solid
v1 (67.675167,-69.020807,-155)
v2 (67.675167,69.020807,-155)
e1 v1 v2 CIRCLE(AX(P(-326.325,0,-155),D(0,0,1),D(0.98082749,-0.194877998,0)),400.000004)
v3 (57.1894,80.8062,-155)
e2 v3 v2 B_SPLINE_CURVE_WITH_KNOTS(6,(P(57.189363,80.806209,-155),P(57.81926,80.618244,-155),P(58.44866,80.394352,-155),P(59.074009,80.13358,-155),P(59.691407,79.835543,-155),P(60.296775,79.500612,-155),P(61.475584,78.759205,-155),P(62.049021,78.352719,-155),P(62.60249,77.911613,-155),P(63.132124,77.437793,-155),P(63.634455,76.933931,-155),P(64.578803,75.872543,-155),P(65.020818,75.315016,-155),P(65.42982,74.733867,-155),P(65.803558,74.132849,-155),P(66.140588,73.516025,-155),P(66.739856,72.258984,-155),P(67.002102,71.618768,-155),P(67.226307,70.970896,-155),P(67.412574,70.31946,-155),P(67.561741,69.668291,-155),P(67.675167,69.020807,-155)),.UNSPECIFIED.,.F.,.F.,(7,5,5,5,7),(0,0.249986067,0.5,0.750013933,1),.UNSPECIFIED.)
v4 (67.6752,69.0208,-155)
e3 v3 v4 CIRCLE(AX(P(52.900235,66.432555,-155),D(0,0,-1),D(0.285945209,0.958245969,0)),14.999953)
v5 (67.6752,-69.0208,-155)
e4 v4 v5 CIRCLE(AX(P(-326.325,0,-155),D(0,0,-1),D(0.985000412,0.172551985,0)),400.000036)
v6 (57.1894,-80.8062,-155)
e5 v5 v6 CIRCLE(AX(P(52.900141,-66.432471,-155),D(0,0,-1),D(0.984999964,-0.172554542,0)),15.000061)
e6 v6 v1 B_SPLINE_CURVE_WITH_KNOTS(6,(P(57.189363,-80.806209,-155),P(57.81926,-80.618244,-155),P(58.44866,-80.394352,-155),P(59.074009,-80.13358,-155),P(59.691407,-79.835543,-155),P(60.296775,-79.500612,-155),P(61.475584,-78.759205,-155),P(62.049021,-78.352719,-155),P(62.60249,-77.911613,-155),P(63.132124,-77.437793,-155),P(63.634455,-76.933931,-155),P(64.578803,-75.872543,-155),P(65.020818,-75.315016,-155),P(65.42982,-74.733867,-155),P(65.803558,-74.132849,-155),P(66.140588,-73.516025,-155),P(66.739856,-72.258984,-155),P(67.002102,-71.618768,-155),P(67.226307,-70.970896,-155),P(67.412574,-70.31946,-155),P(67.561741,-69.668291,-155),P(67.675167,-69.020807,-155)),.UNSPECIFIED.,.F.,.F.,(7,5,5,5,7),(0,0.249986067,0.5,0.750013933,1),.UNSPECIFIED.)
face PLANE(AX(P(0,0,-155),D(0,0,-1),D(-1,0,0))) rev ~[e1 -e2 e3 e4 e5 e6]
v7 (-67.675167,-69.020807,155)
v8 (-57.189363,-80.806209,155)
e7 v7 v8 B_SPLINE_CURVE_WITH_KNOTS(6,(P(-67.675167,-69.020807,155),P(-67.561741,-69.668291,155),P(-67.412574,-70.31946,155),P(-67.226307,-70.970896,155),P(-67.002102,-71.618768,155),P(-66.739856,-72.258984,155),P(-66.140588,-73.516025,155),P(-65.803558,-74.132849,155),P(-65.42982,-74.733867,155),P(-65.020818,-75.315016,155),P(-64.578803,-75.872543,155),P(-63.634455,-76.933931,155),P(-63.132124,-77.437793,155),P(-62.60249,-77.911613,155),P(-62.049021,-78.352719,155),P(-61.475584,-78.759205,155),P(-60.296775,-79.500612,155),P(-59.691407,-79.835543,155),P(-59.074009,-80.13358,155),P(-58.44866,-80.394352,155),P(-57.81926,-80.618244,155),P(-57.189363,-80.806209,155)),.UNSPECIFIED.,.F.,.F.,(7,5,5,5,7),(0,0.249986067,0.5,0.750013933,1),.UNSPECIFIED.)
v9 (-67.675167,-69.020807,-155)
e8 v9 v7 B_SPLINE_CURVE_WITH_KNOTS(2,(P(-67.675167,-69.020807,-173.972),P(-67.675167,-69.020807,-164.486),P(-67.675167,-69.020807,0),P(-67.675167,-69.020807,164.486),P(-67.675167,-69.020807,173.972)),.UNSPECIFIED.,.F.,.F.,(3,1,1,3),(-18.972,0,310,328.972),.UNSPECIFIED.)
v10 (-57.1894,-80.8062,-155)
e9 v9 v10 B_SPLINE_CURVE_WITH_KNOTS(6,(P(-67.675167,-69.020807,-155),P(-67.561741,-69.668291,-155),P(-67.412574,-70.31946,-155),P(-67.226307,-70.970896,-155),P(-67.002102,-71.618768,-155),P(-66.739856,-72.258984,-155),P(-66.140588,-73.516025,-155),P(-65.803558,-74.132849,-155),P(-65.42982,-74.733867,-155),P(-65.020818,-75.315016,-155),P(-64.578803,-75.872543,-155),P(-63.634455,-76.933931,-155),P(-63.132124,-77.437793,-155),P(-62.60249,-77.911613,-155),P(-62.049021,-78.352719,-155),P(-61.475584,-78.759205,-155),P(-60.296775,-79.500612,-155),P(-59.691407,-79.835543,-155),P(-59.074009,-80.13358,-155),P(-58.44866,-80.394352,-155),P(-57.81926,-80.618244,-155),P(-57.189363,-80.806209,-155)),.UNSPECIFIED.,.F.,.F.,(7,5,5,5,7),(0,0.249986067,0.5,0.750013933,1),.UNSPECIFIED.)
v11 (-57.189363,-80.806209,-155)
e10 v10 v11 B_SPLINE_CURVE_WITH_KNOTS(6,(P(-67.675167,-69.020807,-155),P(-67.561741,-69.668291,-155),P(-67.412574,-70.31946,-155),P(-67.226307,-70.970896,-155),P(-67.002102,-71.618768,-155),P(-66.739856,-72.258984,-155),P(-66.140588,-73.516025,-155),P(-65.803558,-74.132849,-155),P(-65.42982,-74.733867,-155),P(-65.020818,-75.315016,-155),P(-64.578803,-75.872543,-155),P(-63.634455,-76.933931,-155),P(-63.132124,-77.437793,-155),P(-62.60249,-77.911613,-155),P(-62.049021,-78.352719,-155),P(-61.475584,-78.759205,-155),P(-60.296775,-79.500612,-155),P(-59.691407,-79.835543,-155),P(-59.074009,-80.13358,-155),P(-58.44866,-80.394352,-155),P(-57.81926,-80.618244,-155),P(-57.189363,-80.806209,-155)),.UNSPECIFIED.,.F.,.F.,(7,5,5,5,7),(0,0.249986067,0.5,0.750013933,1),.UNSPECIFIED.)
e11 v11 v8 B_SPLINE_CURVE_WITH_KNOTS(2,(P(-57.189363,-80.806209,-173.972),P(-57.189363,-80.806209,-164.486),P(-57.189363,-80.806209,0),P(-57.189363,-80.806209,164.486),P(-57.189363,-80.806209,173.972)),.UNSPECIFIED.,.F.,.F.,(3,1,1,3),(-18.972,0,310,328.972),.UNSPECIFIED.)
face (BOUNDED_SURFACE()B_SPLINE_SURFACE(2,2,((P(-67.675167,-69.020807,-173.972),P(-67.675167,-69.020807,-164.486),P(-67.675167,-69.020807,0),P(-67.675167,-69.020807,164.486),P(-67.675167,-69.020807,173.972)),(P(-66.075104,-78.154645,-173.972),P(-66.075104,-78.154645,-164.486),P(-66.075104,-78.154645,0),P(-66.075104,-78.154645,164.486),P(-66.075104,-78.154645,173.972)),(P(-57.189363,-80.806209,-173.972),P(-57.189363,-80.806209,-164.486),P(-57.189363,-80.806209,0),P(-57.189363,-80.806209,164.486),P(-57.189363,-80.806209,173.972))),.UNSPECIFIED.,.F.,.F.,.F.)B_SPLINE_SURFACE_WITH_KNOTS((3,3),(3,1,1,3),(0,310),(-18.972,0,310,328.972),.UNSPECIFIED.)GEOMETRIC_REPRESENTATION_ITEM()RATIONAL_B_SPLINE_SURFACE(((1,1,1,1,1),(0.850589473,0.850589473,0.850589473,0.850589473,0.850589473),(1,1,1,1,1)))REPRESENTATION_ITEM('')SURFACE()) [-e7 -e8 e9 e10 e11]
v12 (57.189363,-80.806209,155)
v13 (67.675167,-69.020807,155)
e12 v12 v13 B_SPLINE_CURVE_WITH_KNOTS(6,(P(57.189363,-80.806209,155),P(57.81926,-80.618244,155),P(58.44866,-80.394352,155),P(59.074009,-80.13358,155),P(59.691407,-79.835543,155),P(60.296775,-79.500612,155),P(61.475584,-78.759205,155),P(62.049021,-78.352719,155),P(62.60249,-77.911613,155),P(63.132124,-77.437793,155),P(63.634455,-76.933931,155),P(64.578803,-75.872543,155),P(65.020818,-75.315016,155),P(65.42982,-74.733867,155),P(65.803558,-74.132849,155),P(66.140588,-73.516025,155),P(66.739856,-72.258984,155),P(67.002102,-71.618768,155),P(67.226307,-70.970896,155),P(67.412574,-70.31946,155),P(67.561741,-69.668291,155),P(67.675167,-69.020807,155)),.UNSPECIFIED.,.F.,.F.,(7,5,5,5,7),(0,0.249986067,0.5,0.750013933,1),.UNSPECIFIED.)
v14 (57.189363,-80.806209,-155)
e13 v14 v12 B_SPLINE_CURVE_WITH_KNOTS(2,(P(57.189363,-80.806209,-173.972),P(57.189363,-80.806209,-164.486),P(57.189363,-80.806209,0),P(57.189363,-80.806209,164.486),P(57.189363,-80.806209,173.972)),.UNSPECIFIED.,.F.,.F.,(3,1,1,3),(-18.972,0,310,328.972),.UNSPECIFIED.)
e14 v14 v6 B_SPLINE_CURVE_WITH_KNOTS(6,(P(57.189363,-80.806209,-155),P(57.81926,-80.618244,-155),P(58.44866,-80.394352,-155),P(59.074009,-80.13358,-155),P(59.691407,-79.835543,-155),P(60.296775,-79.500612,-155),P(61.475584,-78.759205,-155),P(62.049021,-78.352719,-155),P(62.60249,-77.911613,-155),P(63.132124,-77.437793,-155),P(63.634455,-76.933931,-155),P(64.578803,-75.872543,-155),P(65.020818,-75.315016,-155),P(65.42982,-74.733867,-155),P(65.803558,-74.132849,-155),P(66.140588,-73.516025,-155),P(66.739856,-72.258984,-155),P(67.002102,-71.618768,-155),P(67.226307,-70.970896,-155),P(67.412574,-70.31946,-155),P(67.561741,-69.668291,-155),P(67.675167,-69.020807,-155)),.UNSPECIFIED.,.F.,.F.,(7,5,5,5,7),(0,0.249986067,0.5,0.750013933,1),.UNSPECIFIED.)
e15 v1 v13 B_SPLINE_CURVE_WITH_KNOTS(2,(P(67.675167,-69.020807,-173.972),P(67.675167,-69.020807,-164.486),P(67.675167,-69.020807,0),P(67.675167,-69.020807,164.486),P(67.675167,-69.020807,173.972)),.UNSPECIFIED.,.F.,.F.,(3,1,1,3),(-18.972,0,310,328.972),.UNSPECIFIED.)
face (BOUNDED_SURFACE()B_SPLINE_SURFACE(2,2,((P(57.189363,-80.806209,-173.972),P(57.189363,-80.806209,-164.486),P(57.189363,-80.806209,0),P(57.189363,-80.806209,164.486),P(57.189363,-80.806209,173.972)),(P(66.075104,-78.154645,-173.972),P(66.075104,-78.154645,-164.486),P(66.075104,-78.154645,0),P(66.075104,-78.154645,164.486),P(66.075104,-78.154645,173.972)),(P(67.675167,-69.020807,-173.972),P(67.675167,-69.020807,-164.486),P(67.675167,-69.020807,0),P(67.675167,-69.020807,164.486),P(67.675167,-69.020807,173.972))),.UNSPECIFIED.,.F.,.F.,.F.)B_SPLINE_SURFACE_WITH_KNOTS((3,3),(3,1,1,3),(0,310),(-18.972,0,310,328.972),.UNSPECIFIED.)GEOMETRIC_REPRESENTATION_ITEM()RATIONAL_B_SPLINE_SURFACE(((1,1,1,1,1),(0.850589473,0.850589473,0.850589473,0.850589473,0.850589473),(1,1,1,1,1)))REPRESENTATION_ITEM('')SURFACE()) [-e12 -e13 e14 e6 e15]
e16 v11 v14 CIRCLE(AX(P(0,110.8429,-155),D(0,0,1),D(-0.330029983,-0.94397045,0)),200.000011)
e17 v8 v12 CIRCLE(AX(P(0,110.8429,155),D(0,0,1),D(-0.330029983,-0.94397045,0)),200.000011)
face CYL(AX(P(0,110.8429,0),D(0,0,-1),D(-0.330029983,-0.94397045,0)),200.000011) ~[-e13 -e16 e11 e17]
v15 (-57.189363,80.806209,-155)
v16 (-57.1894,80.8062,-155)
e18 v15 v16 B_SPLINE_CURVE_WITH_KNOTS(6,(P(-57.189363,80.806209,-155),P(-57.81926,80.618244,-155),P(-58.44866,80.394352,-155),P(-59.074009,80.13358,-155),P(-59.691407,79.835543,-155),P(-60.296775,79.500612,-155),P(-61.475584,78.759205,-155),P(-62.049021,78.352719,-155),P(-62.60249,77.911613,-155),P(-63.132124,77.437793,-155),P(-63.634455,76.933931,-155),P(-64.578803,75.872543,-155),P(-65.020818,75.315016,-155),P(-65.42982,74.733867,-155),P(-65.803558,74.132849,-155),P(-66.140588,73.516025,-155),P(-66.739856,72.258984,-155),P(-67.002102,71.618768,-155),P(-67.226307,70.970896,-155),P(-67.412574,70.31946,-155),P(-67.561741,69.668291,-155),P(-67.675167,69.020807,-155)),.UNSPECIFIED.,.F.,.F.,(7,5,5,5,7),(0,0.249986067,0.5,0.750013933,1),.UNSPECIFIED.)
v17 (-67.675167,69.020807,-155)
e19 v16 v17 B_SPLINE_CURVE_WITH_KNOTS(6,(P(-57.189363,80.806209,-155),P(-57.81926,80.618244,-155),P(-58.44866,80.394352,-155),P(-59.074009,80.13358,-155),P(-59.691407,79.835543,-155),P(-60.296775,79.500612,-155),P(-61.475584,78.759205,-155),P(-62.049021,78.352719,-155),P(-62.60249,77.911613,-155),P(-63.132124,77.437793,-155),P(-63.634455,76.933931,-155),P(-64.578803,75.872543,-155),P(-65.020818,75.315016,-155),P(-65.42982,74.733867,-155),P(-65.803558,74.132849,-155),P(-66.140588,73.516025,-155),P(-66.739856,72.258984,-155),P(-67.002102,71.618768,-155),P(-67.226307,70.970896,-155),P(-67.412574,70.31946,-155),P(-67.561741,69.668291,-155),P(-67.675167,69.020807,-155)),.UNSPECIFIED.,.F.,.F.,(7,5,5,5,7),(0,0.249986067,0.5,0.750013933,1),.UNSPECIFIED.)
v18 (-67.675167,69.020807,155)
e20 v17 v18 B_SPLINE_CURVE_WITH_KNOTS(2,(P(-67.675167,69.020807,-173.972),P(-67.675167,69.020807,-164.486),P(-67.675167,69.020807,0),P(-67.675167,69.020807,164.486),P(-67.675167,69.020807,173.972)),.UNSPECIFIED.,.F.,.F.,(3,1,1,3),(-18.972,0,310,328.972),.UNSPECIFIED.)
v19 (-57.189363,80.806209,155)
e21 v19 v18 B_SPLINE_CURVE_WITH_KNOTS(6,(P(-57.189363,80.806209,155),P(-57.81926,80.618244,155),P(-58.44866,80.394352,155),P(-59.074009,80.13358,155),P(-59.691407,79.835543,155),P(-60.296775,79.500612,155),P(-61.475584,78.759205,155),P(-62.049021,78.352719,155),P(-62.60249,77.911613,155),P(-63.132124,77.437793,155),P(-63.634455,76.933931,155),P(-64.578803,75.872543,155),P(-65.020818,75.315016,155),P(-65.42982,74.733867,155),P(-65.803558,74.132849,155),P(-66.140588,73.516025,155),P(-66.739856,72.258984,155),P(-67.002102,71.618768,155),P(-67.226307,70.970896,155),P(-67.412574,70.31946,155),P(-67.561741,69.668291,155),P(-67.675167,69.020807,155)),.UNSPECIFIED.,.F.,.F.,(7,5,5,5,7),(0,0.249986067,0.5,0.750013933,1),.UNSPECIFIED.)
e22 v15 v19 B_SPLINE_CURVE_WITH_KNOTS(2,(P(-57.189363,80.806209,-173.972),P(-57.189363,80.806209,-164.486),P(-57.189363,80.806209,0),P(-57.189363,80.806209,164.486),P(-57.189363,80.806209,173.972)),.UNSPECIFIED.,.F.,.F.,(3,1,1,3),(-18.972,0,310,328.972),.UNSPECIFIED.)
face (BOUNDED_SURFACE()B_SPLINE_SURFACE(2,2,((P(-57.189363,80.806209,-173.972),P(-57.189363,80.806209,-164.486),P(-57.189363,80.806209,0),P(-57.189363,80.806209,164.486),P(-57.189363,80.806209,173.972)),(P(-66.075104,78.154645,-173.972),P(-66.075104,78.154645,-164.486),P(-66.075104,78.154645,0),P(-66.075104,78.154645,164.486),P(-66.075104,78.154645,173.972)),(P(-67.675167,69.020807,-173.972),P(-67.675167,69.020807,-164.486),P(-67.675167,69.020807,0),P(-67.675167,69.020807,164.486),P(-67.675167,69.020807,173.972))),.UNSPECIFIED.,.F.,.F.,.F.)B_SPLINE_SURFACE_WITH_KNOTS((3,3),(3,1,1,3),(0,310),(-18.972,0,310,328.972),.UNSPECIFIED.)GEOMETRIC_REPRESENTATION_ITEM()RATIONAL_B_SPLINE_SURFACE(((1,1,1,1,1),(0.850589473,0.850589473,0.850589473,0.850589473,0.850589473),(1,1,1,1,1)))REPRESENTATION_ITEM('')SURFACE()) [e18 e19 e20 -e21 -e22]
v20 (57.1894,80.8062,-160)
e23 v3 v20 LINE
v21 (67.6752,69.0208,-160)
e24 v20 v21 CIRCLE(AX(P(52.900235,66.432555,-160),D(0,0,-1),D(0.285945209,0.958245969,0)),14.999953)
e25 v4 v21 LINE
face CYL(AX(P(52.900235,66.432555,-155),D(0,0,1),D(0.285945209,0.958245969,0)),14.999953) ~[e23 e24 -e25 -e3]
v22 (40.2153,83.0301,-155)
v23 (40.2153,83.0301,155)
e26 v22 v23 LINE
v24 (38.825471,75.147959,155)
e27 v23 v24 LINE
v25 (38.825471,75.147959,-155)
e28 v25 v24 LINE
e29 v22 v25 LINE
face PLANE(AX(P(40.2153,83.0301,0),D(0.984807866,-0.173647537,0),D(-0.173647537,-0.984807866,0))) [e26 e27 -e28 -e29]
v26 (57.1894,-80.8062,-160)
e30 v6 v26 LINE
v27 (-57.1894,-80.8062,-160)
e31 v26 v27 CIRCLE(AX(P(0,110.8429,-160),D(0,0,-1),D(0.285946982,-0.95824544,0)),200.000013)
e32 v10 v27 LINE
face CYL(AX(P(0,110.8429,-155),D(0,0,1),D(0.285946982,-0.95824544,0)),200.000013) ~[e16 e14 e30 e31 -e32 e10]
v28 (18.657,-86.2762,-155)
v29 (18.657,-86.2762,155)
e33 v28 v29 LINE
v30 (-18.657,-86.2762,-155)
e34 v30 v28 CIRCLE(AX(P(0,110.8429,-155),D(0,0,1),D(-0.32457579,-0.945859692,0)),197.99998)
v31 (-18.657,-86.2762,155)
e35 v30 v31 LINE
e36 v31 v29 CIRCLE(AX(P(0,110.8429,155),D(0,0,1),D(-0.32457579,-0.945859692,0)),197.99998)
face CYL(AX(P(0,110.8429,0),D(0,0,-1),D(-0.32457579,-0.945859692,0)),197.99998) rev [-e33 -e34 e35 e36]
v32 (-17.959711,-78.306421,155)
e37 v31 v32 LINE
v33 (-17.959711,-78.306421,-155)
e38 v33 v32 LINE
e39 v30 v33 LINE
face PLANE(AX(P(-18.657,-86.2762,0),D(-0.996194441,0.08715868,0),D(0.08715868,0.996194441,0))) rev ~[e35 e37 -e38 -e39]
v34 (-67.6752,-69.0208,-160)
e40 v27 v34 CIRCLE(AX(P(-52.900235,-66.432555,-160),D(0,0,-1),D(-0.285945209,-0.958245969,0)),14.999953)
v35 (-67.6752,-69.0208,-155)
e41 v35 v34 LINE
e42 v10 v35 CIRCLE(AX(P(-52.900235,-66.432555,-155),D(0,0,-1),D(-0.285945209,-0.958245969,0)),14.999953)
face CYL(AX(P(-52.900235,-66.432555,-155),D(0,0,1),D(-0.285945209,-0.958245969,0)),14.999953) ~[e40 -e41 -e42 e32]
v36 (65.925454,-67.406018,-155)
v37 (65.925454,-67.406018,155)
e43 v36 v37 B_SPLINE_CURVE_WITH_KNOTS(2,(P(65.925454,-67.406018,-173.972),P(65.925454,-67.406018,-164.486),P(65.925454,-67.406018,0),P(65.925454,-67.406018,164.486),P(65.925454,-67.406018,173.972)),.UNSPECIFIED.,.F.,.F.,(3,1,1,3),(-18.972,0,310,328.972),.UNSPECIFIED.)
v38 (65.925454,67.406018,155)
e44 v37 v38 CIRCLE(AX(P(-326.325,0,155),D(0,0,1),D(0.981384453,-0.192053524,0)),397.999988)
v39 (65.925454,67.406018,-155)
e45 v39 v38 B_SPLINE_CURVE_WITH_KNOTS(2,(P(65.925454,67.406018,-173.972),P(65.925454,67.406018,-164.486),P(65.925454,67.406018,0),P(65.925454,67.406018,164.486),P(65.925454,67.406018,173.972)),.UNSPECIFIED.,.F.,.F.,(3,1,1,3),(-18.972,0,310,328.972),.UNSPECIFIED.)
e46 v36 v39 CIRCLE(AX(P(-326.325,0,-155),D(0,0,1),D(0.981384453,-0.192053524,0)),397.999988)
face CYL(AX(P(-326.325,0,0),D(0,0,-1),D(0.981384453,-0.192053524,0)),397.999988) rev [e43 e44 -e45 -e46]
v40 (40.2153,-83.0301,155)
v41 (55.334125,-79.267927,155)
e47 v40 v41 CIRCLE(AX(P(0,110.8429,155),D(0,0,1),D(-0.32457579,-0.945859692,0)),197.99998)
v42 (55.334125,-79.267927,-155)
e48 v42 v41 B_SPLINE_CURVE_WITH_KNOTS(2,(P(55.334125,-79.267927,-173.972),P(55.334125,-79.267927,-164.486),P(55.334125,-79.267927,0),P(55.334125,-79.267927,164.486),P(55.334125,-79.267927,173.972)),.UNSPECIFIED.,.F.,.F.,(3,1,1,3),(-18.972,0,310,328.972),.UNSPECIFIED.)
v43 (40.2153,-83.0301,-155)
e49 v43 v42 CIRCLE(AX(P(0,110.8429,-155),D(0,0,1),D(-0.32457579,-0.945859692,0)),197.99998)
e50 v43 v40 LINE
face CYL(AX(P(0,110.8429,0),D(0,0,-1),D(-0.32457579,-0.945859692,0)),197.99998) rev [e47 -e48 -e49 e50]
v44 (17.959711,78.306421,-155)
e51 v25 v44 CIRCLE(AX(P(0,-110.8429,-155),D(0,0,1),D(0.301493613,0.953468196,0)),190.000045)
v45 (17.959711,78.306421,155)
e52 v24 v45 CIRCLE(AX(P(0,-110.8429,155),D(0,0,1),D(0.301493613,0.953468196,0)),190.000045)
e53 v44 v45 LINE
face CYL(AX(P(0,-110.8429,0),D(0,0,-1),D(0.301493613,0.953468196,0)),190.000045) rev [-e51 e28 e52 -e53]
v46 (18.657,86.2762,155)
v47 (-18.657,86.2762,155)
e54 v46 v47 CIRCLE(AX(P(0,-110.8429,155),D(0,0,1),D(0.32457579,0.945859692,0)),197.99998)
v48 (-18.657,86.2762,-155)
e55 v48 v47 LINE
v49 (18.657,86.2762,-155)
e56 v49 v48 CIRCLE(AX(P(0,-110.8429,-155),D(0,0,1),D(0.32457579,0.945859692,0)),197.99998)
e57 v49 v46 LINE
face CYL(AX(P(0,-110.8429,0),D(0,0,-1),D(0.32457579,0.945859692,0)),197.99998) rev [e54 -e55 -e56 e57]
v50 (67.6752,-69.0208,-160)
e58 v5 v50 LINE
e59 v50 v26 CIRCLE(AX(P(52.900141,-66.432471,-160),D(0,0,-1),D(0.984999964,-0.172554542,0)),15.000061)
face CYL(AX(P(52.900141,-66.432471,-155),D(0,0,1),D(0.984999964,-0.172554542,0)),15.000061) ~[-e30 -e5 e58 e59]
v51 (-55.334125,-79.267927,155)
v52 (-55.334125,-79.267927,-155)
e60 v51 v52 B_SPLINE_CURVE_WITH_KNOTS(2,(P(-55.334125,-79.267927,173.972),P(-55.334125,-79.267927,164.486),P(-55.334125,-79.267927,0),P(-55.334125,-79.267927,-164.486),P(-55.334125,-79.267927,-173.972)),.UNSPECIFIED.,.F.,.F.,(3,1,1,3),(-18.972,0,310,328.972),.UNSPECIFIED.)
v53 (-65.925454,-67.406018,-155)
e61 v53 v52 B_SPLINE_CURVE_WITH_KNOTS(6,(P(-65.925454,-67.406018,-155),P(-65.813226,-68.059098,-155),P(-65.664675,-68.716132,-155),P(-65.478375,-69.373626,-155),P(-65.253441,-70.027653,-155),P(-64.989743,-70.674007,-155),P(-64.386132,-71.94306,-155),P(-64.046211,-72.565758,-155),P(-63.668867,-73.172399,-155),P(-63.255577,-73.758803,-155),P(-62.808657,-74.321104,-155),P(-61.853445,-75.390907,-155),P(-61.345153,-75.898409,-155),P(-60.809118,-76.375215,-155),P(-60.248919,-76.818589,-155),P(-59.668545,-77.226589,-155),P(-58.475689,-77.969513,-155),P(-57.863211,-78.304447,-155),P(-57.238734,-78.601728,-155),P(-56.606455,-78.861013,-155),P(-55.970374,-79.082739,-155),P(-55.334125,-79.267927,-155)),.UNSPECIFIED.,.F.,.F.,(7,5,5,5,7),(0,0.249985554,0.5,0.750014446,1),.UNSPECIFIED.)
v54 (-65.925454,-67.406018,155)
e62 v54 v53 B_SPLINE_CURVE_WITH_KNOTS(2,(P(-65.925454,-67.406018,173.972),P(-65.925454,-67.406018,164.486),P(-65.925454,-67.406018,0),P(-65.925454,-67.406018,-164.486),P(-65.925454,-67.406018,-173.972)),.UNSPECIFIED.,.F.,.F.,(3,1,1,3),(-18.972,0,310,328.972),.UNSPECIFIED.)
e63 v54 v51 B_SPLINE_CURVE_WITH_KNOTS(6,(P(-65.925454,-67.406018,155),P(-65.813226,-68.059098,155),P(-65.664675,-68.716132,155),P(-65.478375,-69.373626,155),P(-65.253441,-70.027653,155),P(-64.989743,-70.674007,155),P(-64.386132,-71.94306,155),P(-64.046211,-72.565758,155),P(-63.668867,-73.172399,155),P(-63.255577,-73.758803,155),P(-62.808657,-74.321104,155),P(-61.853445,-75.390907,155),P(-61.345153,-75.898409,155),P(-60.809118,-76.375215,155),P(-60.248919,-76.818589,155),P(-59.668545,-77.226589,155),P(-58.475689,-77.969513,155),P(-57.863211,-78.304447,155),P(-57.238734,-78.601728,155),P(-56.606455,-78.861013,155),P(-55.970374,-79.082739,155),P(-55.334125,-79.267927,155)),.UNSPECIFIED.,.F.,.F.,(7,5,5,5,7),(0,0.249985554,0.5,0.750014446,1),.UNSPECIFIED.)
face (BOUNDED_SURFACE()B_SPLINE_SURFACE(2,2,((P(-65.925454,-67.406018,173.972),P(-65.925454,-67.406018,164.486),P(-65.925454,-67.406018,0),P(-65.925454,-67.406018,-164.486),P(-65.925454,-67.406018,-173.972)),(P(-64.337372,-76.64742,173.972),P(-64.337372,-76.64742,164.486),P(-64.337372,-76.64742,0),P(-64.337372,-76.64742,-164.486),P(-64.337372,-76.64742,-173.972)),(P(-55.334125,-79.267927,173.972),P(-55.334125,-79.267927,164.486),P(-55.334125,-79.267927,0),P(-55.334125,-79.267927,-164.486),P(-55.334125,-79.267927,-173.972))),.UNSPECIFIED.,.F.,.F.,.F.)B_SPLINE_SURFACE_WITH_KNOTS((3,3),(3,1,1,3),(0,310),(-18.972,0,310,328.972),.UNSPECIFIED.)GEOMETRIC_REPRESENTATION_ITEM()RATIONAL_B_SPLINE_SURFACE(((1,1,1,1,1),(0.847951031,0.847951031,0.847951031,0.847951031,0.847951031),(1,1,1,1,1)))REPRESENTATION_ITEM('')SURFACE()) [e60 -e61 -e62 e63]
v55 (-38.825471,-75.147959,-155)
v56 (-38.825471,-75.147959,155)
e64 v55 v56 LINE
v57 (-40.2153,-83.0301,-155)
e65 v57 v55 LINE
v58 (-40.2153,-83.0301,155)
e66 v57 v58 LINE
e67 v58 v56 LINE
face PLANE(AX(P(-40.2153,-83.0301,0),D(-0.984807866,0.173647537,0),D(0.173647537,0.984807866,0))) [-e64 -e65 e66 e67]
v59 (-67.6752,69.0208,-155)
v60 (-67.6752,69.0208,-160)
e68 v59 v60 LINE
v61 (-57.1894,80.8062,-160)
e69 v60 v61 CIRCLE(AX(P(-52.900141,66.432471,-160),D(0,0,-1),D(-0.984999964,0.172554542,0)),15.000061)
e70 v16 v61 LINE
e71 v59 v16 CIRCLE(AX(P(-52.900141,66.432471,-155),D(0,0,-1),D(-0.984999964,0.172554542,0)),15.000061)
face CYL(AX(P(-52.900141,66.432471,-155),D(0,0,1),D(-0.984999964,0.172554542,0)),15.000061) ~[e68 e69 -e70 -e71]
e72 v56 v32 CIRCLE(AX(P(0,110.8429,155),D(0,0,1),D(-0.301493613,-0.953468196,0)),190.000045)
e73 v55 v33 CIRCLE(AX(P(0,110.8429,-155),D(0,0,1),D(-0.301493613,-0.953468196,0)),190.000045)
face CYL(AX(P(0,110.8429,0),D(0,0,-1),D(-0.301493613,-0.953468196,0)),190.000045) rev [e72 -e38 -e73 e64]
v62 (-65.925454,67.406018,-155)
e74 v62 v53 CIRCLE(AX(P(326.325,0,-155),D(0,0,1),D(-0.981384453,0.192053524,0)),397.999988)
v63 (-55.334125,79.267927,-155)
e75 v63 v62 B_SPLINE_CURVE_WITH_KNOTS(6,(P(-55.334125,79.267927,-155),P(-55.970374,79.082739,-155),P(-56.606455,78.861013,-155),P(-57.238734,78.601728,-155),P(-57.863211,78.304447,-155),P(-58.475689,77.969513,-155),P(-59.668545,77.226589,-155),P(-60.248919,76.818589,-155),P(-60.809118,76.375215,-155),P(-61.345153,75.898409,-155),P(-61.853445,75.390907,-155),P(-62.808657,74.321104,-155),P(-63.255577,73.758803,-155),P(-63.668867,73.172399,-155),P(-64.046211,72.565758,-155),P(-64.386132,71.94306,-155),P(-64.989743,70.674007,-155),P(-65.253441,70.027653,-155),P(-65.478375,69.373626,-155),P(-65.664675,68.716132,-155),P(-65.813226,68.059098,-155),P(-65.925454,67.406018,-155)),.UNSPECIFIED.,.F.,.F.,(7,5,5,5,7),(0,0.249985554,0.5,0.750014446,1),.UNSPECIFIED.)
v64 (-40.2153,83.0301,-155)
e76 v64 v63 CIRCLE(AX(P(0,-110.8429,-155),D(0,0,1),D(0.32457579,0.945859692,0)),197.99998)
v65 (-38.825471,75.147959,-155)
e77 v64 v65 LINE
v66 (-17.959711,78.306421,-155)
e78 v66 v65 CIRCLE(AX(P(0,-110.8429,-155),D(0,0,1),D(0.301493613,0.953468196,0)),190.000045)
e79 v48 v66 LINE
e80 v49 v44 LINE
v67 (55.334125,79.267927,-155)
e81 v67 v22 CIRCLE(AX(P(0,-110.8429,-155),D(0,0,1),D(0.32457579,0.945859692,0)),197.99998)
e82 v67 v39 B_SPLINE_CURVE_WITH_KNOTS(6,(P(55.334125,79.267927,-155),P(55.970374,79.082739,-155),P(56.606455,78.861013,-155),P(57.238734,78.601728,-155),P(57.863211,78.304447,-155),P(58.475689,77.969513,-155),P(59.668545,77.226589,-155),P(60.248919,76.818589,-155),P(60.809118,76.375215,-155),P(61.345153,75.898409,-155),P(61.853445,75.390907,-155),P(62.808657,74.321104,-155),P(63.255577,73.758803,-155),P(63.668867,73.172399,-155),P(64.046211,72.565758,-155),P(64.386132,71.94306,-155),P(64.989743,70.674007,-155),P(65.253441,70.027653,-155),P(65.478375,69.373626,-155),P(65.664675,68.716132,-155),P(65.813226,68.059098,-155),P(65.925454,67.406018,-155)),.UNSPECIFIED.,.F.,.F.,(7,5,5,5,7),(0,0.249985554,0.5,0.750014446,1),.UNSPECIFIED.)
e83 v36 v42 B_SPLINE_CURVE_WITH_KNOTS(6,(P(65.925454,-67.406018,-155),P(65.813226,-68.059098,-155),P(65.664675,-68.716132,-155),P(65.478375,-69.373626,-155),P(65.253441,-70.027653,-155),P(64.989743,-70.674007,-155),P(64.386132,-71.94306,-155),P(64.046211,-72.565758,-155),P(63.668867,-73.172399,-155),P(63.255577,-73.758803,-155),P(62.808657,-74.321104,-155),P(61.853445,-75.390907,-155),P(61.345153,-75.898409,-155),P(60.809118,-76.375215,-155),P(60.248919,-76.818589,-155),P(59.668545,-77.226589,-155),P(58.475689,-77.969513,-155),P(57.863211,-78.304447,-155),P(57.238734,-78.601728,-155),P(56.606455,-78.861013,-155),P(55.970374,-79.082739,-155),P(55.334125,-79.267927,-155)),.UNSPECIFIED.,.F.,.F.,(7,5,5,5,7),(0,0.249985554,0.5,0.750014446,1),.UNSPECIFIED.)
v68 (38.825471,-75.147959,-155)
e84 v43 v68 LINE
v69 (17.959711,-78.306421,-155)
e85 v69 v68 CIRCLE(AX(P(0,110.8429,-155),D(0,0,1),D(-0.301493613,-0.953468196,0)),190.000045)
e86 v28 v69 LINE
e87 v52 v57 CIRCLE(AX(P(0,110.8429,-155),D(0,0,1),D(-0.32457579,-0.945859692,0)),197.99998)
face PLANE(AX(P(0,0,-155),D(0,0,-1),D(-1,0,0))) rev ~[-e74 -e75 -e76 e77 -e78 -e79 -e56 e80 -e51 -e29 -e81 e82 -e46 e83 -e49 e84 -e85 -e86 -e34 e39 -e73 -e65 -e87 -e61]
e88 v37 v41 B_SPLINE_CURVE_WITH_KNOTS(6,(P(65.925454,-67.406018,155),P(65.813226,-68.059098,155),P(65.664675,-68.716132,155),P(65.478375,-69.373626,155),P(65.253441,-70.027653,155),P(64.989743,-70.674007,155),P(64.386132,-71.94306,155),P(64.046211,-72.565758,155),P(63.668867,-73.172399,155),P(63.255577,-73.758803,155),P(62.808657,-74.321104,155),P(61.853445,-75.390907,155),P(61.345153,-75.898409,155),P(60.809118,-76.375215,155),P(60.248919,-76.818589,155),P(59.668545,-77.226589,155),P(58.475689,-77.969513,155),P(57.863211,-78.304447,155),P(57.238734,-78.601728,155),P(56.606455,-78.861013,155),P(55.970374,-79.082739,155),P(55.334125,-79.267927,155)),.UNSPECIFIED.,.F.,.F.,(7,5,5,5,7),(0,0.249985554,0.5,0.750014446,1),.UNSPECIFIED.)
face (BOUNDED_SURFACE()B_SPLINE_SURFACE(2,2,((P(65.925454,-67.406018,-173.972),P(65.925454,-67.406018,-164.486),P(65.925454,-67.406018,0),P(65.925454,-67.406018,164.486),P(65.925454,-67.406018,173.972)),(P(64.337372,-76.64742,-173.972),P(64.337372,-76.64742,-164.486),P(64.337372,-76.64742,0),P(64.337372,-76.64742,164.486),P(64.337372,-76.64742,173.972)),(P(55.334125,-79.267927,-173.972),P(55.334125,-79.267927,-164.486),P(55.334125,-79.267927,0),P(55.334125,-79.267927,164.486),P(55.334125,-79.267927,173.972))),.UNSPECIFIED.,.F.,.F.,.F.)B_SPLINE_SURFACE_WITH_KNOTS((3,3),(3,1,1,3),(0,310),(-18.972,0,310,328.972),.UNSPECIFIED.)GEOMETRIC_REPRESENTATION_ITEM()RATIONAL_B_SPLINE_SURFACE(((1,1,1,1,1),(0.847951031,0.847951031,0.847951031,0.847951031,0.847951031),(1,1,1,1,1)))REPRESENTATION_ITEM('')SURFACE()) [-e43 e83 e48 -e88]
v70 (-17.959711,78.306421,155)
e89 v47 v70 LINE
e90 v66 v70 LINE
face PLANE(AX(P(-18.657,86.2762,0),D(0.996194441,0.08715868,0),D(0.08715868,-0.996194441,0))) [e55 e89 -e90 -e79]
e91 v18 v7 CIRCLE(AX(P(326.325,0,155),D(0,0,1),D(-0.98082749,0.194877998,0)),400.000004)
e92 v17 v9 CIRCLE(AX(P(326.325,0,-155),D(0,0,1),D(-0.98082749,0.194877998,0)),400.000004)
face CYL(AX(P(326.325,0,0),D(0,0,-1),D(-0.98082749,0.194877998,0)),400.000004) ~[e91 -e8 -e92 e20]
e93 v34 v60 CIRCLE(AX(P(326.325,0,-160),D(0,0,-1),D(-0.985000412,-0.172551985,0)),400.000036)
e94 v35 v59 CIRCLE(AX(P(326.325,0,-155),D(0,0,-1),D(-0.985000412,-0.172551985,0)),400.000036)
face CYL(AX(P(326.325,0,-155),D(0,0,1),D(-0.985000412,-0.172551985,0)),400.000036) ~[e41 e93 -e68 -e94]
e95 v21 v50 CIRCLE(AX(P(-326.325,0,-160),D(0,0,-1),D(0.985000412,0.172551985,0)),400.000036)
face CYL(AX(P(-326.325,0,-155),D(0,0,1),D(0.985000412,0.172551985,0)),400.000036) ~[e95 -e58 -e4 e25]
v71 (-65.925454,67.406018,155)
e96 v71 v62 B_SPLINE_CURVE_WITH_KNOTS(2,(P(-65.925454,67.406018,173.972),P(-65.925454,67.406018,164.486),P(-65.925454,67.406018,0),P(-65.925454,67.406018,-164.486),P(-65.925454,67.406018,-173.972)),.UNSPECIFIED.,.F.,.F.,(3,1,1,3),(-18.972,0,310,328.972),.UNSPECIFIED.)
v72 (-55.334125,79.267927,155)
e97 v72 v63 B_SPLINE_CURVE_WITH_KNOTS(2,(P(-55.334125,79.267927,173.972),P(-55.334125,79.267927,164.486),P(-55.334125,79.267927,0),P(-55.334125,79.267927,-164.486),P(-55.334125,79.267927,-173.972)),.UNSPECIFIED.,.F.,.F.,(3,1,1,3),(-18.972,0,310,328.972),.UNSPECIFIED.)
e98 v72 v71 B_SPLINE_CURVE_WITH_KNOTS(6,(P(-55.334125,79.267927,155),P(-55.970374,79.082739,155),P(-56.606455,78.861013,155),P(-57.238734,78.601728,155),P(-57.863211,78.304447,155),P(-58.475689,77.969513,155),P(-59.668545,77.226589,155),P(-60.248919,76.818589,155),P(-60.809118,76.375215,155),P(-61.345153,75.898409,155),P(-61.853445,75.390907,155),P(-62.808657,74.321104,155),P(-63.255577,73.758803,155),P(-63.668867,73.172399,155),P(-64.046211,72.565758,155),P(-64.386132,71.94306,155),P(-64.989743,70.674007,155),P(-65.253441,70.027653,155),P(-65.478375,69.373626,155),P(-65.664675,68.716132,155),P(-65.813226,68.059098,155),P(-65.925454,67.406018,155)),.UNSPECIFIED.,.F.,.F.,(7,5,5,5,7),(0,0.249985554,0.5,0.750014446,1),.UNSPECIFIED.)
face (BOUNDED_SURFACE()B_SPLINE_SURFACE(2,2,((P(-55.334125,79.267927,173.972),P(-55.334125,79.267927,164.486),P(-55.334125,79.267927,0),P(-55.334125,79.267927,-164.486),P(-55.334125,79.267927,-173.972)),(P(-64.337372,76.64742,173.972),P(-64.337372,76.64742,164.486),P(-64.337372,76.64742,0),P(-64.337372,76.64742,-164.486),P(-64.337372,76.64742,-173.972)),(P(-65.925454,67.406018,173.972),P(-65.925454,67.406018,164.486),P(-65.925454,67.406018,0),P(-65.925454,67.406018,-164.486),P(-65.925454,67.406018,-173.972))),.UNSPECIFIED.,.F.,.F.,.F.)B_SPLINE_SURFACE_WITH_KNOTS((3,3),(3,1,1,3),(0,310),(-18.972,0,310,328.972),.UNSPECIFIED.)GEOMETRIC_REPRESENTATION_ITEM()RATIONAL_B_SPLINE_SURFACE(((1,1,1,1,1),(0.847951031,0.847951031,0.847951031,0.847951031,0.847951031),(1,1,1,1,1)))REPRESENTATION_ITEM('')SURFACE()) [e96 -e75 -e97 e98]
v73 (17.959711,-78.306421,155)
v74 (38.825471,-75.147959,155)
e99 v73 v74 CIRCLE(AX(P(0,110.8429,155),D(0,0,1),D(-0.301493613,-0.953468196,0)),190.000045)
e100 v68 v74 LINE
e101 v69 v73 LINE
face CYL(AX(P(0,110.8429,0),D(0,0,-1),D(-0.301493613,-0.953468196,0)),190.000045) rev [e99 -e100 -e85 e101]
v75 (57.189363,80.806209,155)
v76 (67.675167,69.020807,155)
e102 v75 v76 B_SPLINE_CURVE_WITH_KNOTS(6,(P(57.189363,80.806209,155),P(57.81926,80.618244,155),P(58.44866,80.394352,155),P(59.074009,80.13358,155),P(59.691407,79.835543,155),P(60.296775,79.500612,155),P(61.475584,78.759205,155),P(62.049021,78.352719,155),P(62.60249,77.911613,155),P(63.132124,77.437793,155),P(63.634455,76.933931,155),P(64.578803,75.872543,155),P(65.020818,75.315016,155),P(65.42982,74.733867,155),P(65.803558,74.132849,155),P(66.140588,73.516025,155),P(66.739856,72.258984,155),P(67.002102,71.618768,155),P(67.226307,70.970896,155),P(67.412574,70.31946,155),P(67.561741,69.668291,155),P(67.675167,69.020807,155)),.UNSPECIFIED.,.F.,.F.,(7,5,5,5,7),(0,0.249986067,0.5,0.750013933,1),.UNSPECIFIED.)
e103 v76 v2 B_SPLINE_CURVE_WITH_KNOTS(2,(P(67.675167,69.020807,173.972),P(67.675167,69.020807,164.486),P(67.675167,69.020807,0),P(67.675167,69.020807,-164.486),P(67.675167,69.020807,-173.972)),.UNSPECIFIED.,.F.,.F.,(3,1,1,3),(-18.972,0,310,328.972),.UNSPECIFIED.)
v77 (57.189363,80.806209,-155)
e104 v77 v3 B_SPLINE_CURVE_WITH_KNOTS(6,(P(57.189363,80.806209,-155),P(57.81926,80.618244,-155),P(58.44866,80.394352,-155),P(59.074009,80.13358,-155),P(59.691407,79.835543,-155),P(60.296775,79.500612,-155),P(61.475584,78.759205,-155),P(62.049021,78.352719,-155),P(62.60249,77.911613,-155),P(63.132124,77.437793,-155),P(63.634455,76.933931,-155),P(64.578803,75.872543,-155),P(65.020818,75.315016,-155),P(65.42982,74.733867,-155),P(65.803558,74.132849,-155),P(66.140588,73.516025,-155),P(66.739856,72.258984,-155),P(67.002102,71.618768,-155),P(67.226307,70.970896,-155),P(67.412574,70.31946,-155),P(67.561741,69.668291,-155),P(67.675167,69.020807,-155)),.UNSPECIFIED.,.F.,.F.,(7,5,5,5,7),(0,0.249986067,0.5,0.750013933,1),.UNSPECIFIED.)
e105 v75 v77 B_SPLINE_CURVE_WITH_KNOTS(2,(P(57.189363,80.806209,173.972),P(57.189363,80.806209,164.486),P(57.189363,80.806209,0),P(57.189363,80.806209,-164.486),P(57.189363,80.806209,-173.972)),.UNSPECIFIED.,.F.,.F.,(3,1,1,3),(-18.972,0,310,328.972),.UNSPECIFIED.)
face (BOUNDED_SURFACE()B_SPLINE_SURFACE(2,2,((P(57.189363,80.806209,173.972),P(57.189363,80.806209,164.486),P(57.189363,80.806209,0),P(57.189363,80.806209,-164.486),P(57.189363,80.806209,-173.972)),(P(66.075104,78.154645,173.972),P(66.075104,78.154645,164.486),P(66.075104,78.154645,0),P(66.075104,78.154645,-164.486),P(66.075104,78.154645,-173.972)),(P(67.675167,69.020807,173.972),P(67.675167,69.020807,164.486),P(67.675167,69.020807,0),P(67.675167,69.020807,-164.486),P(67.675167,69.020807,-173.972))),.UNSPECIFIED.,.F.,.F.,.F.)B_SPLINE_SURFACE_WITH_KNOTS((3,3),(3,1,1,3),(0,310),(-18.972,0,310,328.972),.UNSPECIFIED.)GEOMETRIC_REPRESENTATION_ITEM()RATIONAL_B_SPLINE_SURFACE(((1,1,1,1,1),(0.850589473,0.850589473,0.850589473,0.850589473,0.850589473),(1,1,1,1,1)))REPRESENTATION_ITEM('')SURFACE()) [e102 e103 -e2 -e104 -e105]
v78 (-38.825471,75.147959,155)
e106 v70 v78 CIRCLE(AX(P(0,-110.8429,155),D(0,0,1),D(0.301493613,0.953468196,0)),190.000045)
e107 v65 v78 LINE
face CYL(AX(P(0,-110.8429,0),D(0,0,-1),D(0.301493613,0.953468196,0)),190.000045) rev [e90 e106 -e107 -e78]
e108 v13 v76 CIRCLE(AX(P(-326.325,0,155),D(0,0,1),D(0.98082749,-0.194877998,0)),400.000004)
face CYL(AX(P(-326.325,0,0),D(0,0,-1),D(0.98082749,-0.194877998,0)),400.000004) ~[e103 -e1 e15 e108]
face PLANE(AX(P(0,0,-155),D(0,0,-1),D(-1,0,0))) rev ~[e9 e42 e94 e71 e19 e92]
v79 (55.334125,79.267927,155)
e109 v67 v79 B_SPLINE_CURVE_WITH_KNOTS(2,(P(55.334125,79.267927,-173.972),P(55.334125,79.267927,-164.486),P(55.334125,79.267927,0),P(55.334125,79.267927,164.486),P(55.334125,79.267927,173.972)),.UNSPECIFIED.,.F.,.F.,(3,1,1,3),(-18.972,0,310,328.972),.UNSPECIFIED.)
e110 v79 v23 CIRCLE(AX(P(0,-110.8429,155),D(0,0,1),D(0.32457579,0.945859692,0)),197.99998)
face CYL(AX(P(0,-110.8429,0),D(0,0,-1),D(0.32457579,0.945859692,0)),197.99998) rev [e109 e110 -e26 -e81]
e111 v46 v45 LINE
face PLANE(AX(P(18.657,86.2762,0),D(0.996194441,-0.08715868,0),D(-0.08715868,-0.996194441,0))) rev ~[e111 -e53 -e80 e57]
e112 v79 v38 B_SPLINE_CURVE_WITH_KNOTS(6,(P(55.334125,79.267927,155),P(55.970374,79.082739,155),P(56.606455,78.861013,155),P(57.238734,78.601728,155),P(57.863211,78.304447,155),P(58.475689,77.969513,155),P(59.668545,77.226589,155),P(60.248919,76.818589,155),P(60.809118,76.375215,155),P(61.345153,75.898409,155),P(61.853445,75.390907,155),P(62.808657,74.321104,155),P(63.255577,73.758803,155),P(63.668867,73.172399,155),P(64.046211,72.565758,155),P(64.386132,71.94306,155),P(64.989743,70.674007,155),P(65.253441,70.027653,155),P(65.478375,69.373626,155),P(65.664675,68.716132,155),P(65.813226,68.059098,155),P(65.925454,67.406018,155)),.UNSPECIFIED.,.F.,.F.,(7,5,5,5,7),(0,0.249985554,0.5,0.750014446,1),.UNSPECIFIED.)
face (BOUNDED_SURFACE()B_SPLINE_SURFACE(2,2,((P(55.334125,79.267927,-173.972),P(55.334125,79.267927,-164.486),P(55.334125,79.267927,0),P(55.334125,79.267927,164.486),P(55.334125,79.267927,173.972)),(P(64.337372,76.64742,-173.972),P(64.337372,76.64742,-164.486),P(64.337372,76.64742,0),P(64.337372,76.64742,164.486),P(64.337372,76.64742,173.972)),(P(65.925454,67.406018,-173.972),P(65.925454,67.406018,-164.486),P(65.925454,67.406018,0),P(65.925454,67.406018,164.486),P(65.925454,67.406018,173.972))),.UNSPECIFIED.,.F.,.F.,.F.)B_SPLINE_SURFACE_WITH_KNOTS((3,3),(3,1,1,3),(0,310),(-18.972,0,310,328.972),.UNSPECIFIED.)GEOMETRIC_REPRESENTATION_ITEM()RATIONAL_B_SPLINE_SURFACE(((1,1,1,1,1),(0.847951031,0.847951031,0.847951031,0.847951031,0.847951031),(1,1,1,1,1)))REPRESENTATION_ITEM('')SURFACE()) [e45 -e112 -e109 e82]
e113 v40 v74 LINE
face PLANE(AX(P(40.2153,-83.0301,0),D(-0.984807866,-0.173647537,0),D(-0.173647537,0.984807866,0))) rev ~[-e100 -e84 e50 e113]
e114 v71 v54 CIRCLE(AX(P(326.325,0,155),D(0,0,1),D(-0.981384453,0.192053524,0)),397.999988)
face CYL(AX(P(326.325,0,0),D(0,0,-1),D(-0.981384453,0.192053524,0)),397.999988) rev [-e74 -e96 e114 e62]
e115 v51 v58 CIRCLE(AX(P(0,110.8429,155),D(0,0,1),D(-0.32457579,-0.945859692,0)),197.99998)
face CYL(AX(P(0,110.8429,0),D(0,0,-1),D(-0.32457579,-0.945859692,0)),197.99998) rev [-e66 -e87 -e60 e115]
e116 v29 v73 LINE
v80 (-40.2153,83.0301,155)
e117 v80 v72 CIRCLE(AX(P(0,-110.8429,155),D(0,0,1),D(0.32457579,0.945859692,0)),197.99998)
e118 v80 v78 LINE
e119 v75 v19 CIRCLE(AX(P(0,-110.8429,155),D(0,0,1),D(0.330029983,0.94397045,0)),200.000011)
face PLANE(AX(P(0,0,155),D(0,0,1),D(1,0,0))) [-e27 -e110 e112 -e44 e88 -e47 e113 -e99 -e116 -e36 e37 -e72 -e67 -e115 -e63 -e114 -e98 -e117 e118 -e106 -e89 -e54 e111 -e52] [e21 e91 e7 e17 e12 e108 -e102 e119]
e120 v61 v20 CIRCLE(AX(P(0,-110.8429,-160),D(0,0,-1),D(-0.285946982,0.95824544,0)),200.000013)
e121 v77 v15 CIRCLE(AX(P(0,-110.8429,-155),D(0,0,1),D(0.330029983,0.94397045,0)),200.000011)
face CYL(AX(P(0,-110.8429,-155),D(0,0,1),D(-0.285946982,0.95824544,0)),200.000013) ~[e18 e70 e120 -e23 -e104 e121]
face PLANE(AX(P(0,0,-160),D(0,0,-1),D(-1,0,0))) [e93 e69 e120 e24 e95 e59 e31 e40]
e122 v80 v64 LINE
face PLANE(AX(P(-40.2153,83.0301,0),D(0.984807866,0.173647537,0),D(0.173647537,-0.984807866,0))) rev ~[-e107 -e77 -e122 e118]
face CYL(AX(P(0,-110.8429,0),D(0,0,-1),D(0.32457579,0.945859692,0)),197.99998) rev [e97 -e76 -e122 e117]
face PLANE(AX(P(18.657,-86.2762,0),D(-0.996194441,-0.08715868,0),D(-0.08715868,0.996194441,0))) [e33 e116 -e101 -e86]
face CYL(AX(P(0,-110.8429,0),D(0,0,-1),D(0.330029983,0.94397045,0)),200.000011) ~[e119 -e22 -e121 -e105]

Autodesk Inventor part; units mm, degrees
ref_plane "YZ Plane" through (0, 0, 0) normal (1, 0, 0) x (0, 1, 0)
ref_plane "XZ Plane" through (0, 0, 0) normal (0, 1, 0) x (-1, 0, 0)
ref_plane "XY Plane" through (0, 0, 0) normal (0, 0, 1) x (1, 0, 0)
sketch "Sketch1" plane through (0, 0, 0) normal (0, 0, 1) x (1, 0, 0)
  line L0 (-57, -57.5) -> (57, 57.5) construction
  line L1 (-67.5, 67.5) -> (67.5, 67.5) construction
  line L2 (67.5, 67.5) -> (67.5, -67.5) construction
  line L3 (67.5, -67.5) -> (-67.5, -67.5) construction
  line L4 (-67.5, -67.5) -> (-67.5, 67.5) construction
  line L5 (-67.5, 67.5) -> (67.5, -67.5) construction
  line L6 (67.5, 67.5) -> (-67.5, -67.5) construction
  circle A0 centre (-37.5, 37.5) radius 4
  circle A1 centre (-37.5, -37.5) radius 4
  circle A2 centre (37.5, -37.5) radius 4
  circle A3 centre (37.5, 37.5) radius 4
  arc A4 (-48.5, 62.5) -> (-48.5, -62.5) centre (326.325, 0) ccw
  line L7 (0, 67.5) -> (0, -67.5) construction
  line L8 (67.5, -67.5) -> (67.5, 67.5) construction
  arc A5 (48.5, -62.5) -> (48.5, 62.5) centre (-326.325, 0) ccw
  arc A6 (48.5, 62.5) -> (-48.5, 62.5) centre (0, -110.8429) ccw
  line L9 (-67.5, 0) -> (53.675, 0) construction
  arc A7 (-48.5, -62.5) -> (48.5, -62.5) centre (0, 110.8429) ccw
  arc A8 (-30.7003, 46.1842) -> (-30.7003, -46.1842) centre (326.325, 0) ccw
  arc A9 (-30.7003, -46.1842) -> (30.7003, -46.1842) centre (0, 110.8429) ccw
  arc A10 (30.7003, -46.1842) -> (30.7003, 46.1842) centre (-326.325, 0) ccw
  arc A11 (30.7003, 46.1842) -> (-30.7003, 46.1842) centre (0, -110.8429) ccw
  arc A12 (-55.5322, 68.7683) -> (-55.5322, -68.7683) centre (326.325, 0) ccw
  arc A13 (-55.5322, -68.7683) -> (55.5322, -68.7683) centre (0, 110.8429) ccw
  arc A14 (55.5322, -68.7683) -> (55.5322, 68.7683) centre (-326.325, 0) ccw
  arc A15 (55.5322, 68.7683) -> (-55.5322, 68.7683) centre (0, -110.8429) ccw
  arc A16 (-57.2838, 70.3161) -> (-57.2838, -70.3161) centre (326.325, 0) ccw
  arc A17 (-57.2838, -70.3161) -> (57.2838, -70.3161) centre (0, 110.8429) ccw
  arc A18 (57.2838, -70.3161) -> (57.2838, 70.3161) centre (-326.325, 0) ccw
  arc A19 (57.2838, 70.3161) -> (-57.2838, 70.3161) centre (0, -110.8429) ccw
  line L10 (18.657, 86.2762) -> (17.0881, 68.3442)
  line L11 (40.2153, 83.0301) -> (37.0881, 65.2948)
  line L12 (-18.657, 86.2762) -> (-17.0881, 68.3442)
  line L13 (-40.2153, 83.0301) -> (-37.0881, 65.2948)
  line L14 (18.657, -86.2762) -> (17.0881, -68.3442)
  line L15 (40.2153, -83.0301) -> (37.0881, -65.2948)
  line L16 (-40.2153, -83.0301) -> (-37.0881, -65.2948)
  line L17 (-18.657, -86.2762) -> (-17.0881, -68.3442)
  arc A20 (-64.266, 76.4373) -> (-64.266, -76.4373) centre (326.325, 0) ccw
  arc A21 (-64.266, -76.4373) -> (64.266, -76.4373) centre (0, 110.8429) ccw
  arc A22 (64.266, -76.4373) -> (64.266, 76.4373) centre (-326.325, 0) ccw
  arc A23 (64.266, 76.4373) -> (-64.266, 76.4373) centre (0, -110.8429) ccw
  arc A24 (-66.006, 77.9512) -> (-66.006, -77.9512) centre (326.325, 0) ccw
  arc A25 (-66.006, -77.9512) -> (66.006, -77.9512) centre (0, 110.8429) ccw
  arc A26 (66.006, -77.9512) -> (66.006, 77.9512) centre (-326.325, 0) ccw
  arc A27 (66.006, 77.9512) -> (-66.006, 77.9512) centre (0, -110.8429) ccw
  point P0 (0, 0)
  point P1 (0, 0)
  point P2 (-53.675, 0)
  point P3 (0, 0)
  point P4 (-17.7854, 76.314)
  point P5 (-38.478, 73.1774)
  point P6 (17.7854, -76.314)
  point P7 (38.478, -73.1774)
  point P8 (-38.478, -73.1774)
  point P9 (-17.7854, -76.314)
  point P10 (-38.478, 73.1774)
  point P11 (-17.7854, 76.314)
  point P12 (38.478, -73.1774)
  point P13 (17.7854, -76.314)
  point P14 (-17.7854, -76.314)
  point P15 (-38.478, -73.1774)
  point P16 (-17.9597, -78.3064)
  point P17 (-38.8255, -75.1479)
  point P18 (-38.8255, 75.1479)
  point P19 (-17.9597, 78.3064)
  point P20 (17.9597, 78.3064)
  point P21 (38.8255, 75.1479)
  point P22 (38.8255, -75.1479)
  point P23 (17.9597, -78.3064)
  dimension "d3" = 135
  dimension "d4" = 135
  dimension "d5" = 8
  dimension "d9" = 360
  dimension "d29" = 75
  dimension "d30" = 125
  dimension "d31" = 97
  dimension "d32" = 180
  dimension "d33" = 380
  dimension "d34" = 20
  dimension "d36" = 8
  dimension "d37" = 2
  dimension "d38" = 5
  dimension "d39" = 20
  dimension "d41" = 5
  dimension "d42" = 8
  dimension "d43" = 2
extrude "Extrusion1" add sketch "Sketch1" along normal mid plane 310 contours L13 A23 L12 A19 | A17 L17 A21 L16 | L10 A23 L11 A19 | A17 L15 A21 L14 | A27 A26 A25 A24
fillet "Fillet2" radius 15 8 edges at (64.266, 76.4373, 0) (-64.266, 76.4373, 0) (-64.266, -76.4373, 0) (64.266, -76.4373, 0) (-66.006, 77.9512, 0) (-66.006, -77.9512, 0) (66.006, -77.9512, 0) (66.006, 77.9512, 0)
sketch "Sketch4" plane through (0, 0, -155) normal (0, 0, -1) x (-1, 0, 0)
  arc A0 (67.6752, -69.0208) -> (67.6752, 69.0208) centre (-326.325, 0) ccw projected
  arc A1 (-57.1894, 80.8062) -> (-67.6752, 69.0208) centre (-52.9002, 66.4325) ccw projected
  arc A2 (-67.6752, 69.0208) -> (-67.6752, -69.0208) centre (326.325, 0) ccw projected
  arc A3 (-67.6752, -69.0208) -> (-57.1894, -80.8062) centre (-52.9002, -66.4325) ccw projected
  arc A4 (-57.1894, -80.8062) -> (57.1894, -80.8062) centre (0, 110.8429) ccw projected
  arc A5 (57.1894, -80.8062) -> (67.6752, -69.0208) centre (52.9002, -66.4325) ccw projected
  arc A6 (67.6752, -69.0208) -> (67.6752, 69.0208) centre (-326.325, 0) ccw projected
  arc A7 (67.6752, 69.0208) -> (57.1894, 80.8062) centre (52.9002, 66.4325) ccw projected
  arc A8 (57.1894, 80.8062) -> (-57.1894, 80.8062) centre (0, -110.8429) ccw projected
  line L0 (17.9597, -78.3064) -> (18.657, -86.2762) projected
  arc A9 (-18.657, -86.2762) -> (18.657, -86.2762) centre (0, 110.8429) ccw projected
  line L1 (-18.657, -86.2762) -> (-17.9597, -78.3064) projected
  arc A10 (-38.8255, -75.1479) -> (-17.9597, -78.3064) centre (0, 110.8429) ccw projected
  line L2 (-38.8255, -75.1479) -> (-40.2153, -83.0301) projected
  arc A11 (-55.3342, -79.268) -> (-40.2153, -83.0301) centre (0, 110.8429) ccw projected
  arc A12 (-65.9255, -67.4061) -> (-55.3342, -79.268) centre (-51.1422, -64.8656) ccw projected
  arc A13 (-65.9255, 67.4061) -> (-65.9255, -67.4061) centre (326.325, 0) ccw projected
  arc A14 (-55.3342, 79.268) -> (-65.9255, 67.4061) centre (-51.1422, 64.8656) ccw projected
  arc A15 (-40.2153, 83.0301) -> (-55.3342, 79.268) centre (0, -110.8429) ccw projected
  line L3 (-40.2153, 83.0301) -> (-38.8255, 75.1479) projected
  arc A16 (-17.9597, 78.3064) -> (-38.8255, 75.1479) centre (0, -110.8429) ccw projected
  line L4 (-17.9597, 78.3064) -> (-18.657, 86.2762) projected
  arc A17 (18.657, 86.2762) -> (-18.657, 86.2762) centre (0, -110.8429) ccw projected
  line L5 (18.657, 86.2762) -> (17.9597, 78.3064) projected
  arc A18 (38.8255, 75.1479) -> (17.9597, 78.3064) centre (0, -110.8429) ccw projected
  line L6 (38.8255, 75.1479) -> (40.2153, 83.0301) projected
  arc A19 (55.3342, 79.268) -> (40.2153, 83.0301) centre (0, -110.8429) ccw projected
  arc A20 (65.9255, 67.4061) -> (55.3342, 79.268) centre (51.1422, 64.8656) ccw projected
  arc A21 (65.9255, -67.4061) -> (65.9255, 67.4061) centre (-326.325, 0) ccw projected
  arc A22 (55.3342, -79.268) -> (65.9255, -67.4061) centre (51.1422, -64.8656) ccw projected
  arc A23 (40.2153, -83.0301) -> (55.3342, -79.268) centre (0, 110.8429) ccw projected
  line L7 (40.2153, -83.0301) -> (38.8255, -75.1479) projected
  arc A24 (17.9597, -78.3064) -> (38.8255, -75.1479) centre (0, 110.8429) ccw projected
  point P0 (0, 0)
  point P1 (67.6752, 69.0208)
extrude "Extrusion4" add sketch "Sketch4" along normal blind 5 contours A5 A4 A3 A2 A1 A8 A7 A0 | L0 A9 L1 A10 L2 A11 A12 A13 A14 A15 L3 A16 L4 A17 L5 A18 L6 A19 A20 A21 A22 A23 L7 A24
properties part number "lineaire as deel 3" material "Aluminum 6061"
